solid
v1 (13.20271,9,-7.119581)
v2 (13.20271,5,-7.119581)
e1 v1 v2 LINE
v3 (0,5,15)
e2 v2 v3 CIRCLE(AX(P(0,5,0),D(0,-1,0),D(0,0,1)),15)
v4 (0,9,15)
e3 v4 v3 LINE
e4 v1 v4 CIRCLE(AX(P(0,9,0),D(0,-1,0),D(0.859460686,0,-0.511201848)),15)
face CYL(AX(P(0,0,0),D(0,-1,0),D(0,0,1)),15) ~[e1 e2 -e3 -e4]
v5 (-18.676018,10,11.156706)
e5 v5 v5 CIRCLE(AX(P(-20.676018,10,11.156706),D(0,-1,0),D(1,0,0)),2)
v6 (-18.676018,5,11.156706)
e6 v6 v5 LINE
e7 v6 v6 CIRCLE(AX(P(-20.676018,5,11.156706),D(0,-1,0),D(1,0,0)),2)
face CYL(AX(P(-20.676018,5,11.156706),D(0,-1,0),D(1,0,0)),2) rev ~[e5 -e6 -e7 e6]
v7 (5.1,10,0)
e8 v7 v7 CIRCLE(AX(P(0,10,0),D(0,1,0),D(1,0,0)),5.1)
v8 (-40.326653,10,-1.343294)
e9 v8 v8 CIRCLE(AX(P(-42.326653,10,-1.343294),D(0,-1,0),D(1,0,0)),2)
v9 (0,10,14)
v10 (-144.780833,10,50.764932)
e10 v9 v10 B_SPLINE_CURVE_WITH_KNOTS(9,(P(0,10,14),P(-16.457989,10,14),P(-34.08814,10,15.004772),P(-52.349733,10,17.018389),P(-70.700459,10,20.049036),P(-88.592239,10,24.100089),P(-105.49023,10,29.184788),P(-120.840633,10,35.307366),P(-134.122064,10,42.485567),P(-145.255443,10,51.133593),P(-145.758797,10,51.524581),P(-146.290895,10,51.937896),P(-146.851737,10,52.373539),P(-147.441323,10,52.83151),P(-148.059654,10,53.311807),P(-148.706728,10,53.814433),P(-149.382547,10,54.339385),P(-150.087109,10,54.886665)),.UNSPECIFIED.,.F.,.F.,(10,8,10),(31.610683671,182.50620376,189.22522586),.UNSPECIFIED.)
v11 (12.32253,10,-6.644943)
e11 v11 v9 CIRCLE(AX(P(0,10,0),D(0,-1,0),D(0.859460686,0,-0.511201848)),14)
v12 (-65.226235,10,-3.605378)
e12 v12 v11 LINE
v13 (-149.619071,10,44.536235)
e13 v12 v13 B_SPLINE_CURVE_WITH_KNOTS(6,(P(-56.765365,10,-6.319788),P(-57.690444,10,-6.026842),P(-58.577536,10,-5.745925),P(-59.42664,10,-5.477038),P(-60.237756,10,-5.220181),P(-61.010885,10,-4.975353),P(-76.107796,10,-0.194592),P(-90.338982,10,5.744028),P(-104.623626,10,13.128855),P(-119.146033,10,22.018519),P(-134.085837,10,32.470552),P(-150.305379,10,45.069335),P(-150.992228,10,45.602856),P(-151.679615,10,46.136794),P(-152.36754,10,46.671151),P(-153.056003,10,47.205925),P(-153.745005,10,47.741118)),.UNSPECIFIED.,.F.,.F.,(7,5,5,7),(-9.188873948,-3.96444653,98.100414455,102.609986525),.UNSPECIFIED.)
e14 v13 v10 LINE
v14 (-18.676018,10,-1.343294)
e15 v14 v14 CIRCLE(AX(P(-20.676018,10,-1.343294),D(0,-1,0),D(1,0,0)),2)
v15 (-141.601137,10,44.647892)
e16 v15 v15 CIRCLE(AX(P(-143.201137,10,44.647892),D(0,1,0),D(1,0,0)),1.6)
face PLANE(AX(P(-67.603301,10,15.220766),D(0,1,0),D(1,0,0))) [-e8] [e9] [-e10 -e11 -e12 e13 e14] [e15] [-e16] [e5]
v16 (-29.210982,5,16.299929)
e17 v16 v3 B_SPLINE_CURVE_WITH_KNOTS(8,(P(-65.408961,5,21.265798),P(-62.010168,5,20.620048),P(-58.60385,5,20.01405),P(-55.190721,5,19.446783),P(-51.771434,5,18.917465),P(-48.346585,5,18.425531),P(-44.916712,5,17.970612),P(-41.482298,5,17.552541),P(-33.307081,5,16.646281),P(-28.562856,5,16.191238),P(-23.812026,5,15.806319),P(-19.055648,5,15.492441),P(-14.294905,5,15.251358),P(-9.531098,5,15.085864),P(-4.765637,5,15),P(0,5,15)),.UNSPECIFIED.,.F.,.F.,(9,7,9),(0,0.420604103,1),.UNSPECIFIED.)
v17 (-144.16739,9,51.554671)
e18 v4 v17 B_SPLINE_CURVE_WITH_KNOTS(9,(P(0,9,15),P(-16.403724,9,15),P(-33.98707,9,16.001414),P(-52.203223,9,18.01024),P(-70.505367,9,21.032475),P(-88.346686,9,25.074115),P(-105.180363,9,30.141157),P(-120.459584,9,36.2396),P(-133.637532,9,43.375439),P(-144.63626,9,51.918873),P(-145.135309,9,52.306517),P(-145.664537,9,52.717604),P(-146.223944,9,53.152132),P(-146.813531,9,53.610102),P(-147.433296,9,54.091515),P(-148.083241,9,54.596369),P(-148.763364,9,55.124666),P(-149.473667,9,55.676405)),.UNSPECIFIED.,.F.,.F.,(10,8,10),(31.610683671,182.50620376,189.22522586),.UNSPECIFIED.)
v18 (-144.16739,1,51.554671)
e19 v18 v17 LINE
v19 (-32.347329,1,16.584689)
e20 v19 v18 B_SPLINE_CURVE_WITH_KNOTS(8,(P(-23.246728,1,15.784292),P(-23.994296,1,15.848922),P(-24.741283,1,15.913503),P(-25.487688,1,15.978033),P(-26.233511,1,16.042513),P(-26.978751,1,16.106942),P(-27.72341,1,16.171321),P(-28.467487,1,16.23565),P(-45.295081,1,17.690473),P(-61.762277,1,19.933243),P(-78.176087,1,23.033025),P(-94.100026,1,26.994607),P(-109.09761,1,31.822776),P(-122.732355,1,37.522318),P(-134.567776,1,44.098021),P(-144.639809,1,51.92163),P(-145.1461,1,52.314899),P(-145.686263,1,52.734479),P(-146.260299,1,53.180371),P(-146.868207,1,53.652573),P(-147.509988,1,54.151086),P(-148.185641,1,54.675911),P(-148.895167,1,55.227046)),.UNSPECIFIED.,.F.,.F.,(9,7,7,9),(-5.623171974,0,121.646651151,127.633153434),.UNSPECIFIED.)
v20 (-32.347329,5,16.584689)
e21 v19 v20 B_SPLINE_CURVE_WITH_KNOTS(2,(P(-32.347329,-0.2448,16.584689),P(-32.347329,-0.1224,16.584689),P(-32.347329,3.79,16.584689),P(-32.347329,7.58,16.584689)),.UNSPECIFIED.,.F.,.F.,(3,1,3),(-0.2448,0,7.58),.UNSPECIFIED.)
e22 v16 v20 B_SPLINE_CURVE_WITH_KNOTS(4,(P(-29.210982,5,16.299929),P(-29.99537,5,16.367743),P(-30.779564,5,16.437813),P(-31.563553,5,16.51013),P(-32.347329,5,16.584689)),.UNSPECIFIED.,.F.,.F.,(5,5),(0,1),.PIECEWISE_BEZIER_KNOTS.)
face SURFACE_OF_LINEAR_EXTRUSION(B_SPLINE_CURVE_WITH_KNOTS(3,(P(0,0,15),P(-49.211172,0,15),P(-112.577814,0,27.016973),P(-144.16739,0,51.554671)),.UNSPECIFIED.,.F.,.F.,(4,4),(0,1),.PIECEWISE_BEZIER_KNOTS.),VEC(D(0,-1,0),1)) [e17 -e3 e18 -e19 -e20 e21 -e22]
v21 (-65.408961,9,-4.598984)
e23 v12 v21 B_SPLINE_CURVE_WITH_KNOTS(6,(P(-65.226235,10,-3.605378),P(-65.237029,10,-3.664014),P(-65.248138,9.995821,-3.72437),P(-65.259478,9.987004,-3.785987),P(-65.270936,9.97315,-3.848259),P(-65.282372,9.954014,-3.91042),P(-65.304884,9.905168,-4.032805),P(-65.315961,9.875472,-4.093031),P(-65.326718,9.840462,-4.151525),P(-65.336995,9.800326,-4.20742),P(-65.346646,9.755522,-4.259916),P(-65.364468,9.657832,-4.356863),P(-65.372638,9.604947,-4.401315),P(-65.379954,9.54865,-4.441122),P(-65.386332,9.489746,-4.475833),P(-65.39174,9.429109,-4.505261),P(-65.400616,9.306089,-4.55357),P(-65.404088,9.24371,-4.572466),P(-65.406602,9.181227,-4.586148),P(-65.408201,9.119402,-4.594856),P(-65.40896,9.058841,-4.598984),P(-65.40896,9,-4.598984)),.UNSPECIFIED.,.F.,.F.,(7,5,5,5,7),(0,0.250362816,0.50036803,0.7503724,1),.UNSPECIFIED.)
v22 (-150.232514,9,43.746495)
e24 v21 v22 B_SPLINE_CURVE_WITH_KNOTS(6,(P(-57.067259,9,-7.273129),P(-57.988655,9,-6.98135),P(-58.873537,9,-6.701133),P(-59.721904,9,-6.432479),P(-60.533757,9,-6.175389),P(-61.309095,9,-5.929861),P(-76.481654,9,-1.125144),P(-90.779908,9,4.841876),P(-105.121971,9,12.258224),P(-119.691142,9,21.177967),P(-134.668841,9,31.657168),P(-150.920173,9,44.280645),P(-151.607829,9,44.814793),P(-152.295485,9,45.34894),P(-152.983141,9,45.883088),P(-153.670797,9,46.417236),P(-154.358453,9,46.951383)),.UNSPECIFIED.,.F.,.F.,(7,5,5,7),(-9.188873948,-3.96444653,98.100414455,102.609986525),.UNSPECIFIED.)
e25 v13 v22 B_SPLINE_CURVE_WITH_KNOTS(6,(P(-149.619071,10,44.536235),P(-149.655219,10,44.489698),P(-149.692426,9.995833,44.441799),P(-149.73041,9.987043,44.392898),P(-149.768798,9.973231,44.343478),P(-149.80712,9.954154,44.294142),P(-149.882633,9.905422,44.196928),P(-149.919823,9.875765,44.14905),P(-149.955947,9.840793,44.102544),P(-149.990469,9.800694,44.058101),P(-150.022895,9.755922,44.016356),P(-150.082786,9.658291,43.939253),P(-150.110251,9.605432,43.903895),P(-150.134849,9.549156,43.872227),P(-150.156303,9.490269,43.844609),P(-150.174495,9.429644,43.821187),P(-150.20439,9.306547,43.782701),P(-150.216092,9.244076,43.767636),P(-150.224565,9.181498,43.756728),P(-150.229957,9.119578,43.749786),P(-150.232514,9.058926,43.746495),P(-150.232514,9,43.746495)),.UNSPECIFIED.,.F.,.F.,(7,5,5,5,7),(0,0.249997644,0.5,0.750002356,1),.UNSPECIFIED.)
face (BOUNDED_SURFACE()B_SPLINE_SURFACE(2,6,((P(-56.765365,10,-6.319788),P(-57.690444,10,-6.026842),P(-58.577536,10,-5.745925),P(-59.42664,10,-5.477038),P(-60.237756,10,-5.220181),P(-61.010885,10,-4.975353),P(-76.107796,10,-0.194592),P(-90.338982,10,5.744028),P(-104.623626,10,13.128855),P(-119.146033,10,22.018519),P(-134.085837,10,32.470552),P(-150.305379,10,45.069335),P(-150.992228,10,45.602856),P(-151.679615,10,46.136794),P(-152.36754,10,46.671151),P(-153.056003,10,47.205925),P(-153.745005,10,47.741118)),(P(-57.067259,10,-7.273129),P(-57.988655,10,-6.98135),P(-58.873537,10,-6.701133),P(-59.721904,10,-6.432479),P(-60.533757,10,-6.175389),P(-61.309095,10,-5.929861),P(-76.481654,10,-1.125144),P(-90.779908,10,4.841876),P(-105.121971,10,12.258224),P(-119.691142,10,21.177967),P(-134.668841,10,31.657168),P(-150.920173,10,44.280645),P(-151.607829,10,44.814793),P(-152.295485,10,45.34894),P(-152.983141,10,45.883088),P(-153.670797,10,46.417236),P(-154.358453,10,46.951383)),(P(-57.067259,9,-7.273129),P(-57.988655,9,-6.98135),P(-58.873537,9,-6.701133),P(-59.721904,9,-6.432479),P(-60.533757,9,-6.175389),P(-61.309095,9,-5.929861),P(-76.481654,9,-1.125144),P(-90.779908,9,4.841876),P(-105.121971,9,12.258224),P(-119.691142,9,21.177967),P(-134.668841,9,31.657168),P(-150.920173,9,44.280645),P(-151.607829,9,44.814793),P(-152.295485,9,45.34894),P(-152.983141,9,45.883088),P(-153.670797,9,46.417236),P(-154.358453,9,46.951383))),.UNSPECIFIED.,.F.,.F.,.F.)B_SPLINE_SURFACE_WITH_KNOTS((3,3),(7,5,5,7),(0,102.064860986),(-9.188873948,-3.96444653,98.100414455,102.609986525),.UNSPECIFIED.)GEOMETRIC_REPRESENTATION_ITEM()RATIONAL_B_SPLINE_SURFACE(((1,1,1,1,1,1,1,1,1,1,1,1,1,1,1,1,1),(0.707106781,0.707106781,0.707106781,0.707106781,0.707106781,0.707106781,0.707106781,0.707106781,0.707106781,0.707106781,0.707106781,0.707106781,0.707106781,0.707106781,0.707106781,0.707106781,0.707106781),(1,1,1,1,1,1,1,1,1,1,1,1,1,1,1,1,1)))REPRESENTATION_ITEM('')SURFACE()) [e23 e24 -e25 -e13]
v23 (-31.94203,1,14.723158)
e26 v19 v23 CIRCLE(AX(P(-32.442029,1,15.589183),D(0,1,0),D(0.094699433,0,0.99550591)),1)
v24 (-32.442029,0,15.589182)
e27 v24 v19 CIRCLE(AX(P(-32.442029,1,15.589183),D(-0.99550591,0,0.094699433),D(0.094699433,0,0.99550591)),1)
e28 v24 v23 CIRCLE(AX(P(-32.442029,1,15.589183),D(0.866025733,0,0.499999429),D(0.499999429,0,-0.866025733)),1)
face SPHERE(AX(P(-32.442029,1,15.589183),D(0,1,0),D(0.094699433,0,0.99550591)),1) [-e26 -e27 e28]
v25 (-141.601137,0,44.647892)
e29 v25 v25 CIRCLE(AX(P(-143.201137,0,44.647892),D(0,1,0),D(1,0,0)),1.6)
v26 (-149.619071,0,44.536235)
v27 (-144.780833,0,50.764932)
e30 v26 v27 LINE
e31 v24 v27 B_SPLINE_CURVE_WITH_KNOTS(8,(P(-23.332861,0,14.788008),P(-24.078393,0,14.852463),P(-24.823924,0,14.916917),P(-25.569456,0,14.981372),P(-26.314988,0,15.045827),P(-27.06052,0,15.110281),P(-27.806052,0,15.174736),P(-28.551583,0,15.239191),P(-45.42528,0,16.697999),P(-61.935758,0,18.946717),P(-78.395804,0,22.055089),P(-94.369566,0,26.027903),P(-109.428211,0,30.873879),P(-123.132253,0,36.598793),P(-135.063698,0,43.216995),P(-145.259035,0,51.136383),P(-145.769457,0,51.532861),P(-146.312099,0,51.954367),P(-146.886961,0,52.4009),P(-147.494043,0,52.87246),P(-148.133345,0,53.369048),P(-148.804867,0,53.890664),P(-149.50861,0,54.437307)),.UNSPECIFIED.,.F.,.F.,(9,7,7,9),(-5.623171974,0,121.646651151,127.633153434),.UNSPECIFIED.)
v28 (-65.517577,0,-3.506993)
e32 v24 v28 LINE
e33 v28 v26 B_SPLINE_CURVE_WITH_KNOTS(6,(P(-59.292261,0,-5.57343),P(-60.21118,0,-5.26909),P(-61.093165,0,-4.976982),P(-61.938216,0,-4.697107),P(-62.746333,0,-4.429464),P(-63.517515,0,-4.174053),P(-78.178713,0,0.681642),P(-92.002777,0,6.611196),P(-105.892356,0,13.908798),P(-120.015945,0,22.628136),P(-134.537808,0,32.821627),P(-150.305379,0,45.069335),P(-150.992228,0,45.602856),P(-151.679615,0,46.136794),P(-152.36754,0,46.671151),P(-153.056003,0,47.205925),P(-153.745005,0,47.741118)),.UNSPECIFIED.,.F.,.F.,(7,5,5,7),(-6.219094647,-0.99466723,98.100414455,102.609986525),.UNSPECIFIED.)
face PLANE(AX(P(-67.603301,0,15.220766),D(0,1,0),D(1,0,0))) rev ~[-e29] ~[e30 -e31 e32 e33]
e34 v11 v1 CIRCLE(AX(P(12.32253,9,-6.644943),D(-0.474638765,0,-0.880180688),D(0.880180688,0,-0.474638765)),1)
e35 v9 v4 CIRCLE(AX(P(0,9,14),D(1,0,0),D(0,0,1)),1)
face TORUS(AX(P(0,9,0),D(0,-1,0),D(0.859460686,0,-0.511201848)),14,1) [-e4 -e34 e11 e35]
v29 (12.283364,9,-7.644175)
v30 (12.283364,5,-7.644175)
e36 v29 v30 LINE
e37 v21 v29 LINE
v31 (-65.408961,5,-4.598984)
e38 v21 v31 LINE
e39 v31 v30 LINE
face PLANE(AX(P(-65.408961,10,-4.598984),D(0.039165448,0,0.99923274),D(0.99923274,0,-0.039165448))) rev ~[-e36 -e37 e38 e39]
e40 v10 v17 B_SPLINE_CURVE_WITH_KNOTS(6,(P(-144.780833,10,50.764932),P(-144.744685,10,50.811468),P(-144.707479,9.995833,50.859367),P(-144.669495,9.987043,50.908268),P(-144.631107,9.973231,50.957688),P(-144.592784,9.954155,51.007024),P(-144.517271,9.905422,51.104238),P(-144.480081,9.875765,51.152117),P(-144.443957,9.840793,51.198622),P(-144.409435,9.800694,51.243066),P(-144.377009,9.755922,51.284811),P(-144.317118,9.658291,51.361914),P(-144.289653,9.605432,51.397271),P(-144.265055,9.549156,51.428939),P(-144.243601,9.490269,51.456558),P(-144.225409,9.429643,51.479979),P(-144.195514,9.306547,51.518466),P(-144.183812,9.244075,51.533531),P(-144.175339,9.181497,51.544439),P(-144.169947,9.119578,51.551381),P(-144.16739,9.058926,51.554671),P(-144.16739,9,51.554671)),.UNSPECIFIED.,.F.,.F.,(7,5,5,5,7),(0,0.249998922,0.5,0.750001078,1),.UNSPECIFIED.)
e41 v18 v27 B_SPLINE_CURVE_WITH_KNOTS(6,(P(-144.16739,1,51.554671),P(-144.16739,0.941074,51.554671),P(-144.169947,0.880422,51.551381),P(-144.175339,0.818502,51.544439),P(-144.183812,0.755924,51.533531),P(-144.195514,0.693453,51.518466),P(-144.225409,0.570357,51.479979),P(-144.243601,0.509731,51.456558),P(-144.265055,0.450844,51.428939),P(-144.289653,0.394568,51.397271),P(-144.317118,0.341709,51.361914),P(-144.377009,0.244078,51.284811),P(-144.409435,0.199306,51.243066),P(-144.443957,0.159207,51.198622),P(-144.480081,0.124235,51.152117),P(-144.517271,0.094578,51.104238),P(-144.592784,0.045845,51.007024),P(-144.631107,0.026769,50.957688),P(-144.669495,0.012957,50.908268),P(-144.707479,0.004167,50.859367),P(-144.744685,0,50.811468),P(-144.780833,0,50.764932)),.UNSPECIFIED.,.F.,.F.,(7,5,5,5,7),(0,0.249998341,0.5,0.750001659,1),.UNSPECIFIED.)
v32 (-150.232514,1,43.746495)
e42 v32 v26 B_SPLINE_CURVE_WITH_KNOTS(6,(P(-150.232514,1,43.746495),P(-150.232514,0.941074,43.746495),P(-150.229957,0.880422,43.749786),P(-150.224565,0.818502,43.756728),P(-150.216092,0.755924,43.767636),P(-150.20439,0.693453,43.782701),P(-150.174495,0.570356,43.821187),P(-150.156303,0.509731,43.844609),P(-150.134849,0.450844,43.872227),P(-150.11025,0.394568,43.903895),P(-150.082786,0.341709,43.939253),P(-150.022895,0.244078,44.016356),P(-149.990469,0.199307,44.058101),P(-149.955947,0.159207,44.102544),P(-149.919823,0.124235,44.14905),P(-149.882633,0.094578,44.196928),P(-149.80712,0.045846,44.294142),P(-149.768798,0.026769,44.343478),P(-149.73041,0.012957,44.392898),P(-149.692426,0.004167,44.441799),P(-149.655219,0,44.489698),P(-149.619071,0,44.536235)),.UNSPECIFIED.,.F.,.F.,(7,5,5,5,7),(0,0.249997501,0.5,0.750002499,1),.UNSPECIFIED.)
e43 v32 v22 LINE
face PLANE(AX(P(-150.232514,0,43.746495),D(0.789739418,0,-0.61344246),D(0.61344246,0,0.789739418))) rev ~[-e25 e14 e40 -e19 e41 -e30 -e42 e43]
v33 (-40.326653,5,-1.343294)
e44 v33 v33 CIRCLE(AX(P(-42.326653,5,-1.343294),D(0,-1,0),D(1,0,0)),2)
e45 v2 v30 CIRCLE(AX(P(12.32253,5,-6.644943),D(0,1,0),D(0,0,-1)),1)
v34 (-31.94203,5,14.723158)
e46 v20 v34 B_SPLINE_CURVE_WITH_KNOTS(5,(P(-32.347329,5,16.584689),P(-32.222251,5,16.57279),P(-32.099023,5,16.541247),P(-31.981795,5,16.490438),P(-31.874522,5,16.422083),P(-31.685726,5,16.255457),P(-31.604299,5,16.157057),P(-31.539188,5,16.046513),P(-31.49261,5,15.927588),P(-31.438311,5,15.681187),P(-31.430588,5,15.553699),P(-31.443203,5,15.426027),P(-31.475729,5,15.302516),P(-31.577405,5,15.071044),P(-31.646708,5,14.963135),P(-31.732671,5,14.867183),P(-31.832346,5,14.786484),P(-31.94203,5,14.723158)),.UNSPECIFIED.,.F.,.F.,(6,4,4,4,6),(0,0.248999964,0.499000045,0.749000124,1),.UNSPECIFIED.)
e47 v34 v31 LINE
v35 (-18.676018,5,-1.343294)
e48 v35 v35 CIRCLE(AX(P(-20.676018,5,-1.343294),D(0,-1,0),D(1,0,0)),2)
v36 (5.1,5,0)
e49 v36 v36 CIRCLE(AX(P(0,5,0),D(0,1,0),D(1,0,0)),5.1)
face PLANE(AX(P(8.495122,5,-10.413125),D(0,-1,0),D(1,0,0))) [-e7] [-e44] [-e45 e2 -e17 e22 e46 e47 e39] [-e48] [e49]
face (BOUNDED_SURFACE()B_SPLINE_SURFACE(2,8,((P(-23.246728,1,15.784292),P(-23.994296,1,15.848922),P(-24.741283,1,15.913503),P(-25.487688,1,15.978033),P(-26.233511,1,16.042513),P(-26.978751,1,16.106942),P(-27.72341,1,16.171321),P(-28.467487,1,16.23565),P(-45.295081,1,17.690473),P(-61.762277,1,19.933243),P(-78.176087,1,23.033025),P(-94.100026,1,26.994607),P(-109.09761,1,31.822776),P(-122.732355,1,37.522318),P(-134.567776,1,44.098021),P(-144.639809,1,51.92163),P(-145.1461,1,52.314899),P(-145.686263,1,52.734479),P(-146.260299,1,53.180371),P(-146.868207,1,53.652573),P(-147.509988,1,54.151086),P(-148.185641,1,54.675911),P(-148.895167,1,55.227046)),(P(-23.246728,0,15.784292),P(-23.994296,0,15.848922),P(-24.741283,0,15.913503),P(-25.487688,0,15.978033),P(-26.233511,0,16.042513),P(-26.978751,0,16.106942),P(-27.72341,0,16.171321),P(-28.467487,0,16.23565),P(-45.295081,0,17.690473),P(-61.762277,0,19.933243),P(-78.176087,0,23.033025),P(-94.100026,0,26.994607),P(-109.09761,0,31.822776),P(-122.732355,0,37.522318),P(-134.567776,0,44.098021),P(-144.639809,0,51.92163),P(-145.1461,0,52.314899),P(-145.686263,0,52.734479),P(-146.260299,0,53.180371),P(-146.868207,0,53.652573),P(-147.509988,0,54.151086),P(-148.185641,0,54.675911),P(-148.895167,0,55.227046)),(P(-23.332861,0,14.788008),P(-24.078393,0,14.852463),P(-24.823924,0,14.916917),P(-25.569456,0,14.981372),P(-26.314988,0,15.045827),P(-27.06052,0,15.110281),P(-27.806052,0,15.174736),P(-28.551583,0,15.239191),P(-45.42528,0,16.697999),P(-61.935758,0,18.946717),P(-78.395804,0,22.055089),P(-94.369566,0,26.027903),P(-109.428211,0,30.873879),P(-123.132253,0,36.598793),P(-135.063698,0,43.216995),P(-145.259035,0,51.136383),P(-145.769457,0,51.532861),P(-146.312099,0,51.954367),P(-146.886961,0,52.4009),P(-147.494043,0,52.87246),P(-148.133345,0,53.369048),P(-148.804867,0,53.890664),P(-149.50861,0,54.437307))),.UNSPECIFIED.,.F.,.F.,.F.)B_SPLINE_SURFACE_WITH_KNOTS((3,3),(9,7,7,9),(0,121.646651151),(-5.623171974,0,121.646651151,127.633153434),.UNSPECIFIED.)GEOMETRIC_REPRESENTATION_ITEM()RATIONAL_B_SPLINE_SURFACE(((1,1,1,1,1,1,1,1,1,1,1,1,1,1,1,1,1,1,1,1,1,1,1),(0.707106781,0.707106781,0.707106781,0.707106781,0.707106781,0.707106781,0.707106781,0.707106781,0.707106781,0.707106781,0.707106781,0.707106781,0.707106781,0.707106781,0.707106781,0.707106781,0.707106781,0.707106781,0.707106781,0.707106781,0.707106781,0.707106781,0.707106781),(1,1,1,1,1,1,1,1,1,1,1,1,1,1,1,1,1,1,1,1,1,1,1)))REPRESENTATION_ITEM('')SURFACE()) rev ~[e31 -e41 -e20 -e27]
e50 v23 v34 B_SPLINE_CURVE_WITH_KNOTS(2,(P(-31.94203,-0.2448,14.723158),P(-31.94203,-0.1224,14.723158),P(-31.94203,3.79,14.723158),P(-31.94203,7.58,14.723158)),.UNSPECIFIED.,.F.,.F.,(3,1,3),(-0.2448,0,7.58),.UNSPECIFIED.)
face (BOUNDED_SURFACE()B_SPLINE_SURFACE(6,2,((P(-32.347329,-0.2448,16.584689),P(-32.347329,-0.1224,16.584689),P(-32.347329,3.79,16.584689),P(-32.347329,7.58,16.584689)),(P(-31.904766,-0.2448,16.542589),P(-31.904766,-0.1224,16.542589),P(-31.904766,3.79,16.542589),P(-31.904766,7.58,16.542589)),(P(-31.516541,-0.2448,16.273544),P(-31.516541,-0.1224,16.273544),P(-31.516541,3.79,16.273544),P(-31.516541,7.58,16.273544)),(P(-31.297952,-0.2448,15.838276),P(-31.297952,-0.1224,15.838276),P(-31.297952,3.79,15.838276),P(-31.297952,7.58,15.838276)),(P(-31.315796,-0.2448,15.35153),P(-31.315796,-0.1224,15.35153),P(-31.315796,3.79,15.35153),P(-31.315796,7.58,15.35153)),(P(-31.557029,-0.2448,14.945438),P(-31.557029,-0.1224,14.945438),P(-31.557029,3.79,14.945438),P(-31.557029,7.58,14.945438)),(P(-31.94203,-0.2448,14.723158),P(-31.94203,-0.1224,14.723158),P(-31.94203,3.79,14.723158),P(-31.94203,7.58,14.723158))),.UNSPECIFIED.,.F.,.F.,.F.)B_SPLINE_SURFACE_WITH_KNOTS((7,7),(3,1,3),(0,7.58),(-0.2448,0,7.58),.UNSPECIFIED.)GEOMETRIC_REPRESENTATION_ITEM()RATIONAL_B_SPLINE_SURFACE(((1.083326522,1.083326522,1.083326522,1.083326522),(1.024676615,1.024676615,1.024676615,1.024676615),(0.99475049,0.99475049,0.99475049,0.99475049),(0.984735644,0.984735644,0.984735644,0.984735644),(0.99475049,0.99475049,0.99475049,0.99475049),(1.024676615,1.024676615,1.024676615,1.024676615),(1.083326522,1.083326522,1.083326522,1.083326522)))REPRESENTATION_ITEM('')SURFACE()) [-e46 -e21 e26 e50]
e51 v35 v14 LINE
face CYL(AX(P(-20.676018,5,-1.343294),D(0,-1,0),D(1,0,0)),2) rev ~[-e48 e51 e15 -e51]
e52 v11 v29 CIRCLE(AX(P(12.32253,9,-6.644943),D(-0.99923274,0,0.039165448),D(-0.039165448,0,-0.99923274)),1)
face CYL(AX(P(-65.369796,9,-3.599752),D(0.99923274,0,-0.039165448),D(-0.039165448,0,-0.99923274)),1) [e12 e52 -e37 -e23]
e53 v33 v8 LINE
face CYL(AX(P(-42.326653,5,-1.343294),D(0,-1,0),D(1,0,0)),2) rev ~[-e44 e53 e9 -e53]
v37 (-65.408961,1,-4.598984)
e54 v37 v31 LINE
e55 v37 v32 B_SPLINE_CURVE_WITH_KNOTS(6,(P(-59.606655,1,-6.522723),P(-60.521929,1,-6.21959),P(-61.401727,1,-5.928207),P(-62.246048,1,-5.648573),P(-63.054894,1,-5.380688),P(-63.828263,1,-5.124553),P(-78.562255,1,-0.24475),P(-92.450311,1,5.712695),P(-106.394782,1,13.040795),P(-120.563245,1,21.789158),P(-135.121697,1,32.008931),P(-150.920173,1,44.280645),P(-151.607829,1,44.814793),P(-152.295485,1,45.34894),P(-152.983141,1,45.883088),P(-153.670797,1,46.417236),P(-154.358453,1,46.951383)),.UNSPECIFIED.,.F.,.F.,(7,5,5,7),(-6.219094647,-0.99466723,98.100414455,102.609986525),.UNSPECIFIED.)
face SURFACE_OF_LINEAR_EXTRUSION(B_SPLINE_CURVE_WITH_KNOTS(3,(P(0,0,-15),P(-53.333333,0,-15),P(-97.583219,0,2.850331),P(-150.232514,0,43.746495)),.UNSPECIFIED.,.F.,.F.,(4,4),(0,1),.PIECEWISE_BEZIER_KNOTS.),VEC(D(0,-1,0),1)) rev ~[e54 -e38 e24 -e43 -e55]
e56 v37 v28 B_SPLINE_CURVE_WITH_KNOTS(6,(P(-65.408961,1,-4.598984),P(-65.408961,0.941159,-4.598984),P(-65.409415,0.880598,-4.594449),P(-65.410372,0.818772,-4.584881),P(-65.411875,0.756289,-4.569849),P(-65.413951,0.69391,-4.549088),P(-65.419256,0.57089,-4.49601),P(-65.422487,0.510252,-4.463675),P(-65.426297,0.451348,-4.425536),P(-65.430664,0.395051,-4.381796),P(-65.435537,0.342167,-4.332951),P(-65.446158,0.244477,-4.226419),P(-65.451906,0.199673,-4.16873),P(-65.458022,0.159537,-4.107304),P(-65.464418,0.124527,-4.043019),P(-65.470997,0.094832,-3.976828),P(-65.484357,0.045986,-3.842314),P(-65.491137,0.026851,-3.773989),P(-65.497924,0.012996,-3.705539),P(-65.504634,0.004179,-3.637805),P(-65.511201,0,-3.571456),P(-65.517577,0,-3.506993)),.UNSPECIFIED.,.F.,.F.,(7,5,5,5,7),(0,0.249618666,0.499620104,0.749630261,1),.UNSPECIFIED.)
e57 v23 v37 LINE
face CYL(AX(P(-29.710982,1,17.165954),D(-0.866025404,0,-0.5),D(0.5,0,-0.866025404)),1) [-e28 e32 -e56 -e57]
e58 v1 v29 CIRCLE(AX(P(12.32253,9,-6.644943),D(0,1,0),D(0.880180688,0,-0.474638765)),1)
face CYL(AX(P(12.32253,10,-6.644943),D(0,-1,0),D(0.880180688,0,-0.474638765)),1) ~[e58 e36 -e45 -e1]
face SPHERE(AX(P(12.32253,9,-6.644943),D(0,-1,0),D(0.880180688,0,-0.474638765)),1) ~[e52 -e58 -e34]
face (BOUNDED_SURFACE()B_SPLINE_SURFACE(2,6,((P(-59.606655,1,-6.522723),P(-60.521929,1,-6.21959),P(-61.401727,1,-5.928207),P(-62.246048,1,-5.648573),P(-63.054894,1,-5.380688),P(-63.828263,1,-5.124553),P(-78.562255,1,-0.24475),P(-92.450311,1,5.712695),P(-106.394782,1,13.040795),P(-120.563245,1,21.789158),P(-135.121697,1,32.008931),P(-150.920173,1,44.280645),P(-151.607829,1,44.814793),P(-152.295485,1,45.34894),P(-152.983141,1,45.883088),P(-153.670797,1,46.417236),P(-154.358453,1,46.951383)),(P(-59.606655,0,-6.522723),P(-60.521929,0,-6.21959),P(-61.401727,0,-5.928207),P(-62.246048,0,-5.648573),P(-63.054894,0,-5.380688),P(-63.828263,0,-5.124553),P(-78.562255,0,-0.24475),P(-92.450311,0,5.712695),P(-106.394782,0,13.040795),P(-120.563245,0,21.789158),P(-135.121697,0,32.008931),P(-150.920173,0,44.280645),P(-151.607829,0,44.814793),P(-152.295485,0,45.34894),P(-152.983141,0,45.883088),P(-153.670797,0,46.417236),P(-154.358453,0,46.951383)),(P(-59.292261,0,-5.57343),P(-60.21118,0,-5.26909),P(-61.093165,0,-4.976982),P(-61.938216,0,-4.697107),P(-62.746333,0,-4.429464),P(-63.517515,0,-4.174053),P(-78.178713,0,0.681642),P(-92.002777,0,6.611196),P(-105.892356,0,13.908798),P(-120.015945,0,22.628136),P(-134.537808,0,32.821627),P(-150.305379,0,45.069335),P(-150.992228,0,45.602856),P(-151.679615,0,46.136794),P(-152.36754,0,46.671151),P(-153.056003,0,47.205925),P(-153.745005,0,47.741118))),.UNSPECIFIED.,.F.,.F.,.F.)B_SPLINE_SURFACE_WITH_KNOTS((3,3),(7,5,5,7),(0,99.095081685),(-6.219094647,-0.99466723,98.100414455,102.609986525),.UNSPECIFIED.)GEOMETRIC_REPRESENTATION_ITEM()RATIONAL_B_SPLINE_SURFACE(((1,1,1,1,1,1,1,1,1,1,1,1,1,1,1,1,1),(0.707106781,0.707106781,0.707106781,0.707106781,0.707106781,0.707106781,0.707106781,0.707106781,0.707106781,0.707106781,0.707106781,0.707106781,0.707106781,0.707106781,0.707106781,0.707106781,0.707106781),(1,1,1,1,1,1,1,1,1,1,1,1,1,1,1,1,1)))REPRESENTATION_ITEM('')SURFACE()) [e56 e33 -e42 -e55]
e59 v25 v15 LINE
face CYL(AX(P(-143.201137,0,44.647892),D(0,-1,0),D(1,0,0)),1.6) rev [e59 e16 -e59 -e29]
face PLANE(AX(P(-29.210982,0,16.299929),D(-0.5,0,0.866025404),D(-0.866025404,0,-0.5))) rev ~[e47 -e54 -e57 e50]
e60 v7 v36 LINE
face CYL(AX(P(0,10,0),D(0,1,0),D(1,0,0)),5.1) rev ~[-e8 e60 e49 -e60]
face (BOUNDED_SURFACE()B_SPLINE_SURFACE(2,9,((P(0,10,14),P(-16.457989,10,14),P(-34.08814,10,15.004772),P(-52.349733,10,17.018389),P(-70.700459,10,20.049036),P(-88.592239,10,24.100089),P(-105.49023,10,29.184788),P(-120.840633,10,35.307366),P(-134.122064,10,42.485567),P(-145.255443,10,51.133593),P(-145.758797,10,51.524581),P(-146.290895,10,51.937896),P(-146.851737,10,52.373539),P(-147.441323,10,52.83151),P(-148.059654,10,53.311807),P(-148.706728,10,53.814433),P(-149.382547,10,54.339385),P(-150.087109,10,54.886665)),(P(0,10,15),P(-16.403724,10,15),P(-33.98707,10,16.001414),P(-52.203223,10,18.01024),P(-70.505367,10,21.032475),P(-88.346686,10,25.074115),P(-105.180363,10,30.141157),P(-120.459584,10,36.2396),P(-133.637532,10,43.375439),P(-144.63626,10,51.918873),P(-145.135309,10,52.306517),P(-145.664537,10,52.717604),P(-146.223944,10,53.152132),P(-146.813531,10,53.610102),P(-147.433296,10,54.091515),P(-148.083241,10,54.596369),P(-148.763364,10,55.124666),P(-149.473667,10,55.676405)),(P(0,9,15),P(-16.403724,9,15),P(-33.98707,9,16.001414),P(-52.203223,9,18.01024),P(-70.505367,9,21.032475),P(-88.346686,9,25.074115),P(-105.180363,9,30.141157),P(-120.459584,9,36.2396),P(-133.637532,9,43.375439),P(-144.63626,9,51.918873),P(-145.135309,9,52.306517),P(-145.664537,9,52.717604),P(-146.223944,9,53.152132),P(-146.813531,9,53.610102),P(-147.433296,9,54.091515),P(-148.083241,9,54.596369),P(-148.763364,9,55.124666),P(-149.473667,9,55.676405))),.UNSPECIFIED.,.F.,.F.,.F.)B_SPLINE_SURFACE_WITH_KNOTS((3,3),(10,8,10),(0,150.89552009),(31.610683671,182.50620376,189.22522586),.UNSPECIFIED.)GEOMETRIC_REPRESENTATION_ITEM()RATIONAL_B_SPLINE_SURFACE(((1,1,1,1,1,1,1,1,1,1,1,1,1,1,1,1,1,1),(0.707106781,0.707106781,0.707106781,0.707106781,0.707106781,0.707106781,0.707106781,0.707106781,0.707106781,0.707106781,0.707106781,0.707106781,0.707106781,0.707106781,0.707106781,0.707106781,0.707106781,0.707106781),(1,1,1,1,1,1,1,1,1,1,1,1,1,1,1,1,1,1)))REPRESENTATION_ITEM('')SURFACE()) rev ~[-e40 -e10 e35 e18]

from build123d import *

# Parameters (mm, degrees)
SKETCH1_R           = 1.600000009
BOSS_EXTRUDE4_DEPTH = 10
SKETCH2_R           = 15
SKETCH2_R_2         = 5
SKETCH2_R_3         = 1.5
BOSS_EXTRUDE6_DEPTH = 5
CUT_EXTRUDE2_DEPTH  = 5
CUT_EXTRUDE4_DEPTH  = 5
SKETCH7_R           = 5.1
CUT_EXTRUDE3_DEPTH  = 10
FILLET8_R           = 1
SKETCH11_R          = 2
CUT_EXTRUDE5_DEPTH  = 6.0000001


with BuildPart() as part:
    # Sketch1 → Boss-Extrude4 (new body)
    with BuildSketch(Plane(origin=(0, 0, 0), x_dir=(1, 0, 0), z_dir=(0, 1, 0))):
        with BuildLine():
            add(Edge.make_bspline(
                [(0, 15), (-53.333333333, 15), (-97.583219031, -2.850331237), (-150.232513568, -43.746495229)],
                knots=[0, 0, 0, 0, 1, 1, 1, 1], degree=3))
            Line((-150.232513568, -43.746495229), (-144.167390422, -51.554671443))
            add(Edge.make_bspline(
                [(0, -15), (-49.211171547, -15), (-112.5778137, -27.016973048), (-144.167390422, -51.554671443)],
                knots=[0, 0, 0, 0, 1, 1, 1, 1], degree=3))
            ThreePointArc((0, -15), (15, 0), (0, 15))
        make_face()
        with Locations((-143.201137436, -44.647891744)):
            Circle(SKETCH1_R, mode=Mode.SUBTRACT)
    extrude(amount=BOSS_EXTRUDE4_DEPTH)

    # Sketch2 → Boss-Extrude6 (add)
    with BuildSketch(Plane.XZ):
        Circle(SKETCH2_R)
        with Locations((16.383040886, -11.471528727)):
            Circle(SKETCH2_R_2)
        with Locations((16.383040886, -11.471528727)):
            Circle(SKETCH2_R_3, mode=Mode.SUBTRACT)
    extrude(amount=-BOSS_EXTRUDE6_DEPTH)

    # Sketch6 → Cut-Extrude2 (cut)
    with BuildSketch(Plane(origin=(0, 10, 0), x_dir=(1, 0, 0), z_dir=(0, 1, 0))):
        Polygon((-65.408961084, 4.598984297), (12.891910286, 7.668027724), (7.272272722, 26.292385098), (-49.302567283, 23.06136309), align=None)
    extrude(amount=-CUT_EXTRUDE2_DEPTH, mode=Mode.SUBTRACT)

    # Sketch9 → Cut-Extrude4 (cut)
    with BuildSketch(Plane.XZ):
        Polygon((-29.210981827, 16.299928772), (-65.408961084, -4.598984297), (-53.167537272, -38.219205759), (79.787707686, -46.822420026), (23.799304787, 49.274642551), align=None)
    extrude(amount=-CUT_EXTRUDE4_DEPTH, mode=Mode.SUBTRACT)

    # Sketch7 → Cut-Extrude3 (cut)
    with BuildSketch(Plane(origin=(0, 10, 0), x_dir=(1, 0, 0), z_dir=(0, 1, 0))):
        Circle(SKETCH7_R)
    extrude(amount=-CUT_EXTRUDE3_DEPTH, mode=Mode.SUBTRACT)

    # Fillet8
    fillet8_edges = [part.edges().sort_by_distance(p)[0] for p in [
        (-74.858183183, 10, 23.204180957),
        (13.038796261, 10, 7.415510237),
        (-109.827962706, 10, 15.996913206),
        (-26.258525399, 10, -6.13350601),
        (12.891910286, 7.5, -7.668027724),
        (-109.827962706, 0, 15.996913206),
        (-89.056948964, 0, 26.700662707),
        (-47.309971455, 0, 5.850472238),
        (-29.210981827, 2.5, 16.299928772),
    ]]
    fillet(fillet8_edges, radius=FILLET8_R)

    # Sketch11 → Cut-Extrude5 (cut, through all)
    with BuildSketch(Plane.XZ.offset(-5)):
        with Locations((-20.67601836, 11.156706002)):
            Circle(SKETCH11_R)
        with Locations((-20.67601836, -1.343293998)):
            Circle(SKETCH11_R)
        with Locations((-42.326653454, -1.343293998)):
            Circle(SKETCH11_R)
    extrude(amount=-CUT_EXTRUDE5_DEPTH, mode=Mode.SUBTRACT)


solid = part.part
